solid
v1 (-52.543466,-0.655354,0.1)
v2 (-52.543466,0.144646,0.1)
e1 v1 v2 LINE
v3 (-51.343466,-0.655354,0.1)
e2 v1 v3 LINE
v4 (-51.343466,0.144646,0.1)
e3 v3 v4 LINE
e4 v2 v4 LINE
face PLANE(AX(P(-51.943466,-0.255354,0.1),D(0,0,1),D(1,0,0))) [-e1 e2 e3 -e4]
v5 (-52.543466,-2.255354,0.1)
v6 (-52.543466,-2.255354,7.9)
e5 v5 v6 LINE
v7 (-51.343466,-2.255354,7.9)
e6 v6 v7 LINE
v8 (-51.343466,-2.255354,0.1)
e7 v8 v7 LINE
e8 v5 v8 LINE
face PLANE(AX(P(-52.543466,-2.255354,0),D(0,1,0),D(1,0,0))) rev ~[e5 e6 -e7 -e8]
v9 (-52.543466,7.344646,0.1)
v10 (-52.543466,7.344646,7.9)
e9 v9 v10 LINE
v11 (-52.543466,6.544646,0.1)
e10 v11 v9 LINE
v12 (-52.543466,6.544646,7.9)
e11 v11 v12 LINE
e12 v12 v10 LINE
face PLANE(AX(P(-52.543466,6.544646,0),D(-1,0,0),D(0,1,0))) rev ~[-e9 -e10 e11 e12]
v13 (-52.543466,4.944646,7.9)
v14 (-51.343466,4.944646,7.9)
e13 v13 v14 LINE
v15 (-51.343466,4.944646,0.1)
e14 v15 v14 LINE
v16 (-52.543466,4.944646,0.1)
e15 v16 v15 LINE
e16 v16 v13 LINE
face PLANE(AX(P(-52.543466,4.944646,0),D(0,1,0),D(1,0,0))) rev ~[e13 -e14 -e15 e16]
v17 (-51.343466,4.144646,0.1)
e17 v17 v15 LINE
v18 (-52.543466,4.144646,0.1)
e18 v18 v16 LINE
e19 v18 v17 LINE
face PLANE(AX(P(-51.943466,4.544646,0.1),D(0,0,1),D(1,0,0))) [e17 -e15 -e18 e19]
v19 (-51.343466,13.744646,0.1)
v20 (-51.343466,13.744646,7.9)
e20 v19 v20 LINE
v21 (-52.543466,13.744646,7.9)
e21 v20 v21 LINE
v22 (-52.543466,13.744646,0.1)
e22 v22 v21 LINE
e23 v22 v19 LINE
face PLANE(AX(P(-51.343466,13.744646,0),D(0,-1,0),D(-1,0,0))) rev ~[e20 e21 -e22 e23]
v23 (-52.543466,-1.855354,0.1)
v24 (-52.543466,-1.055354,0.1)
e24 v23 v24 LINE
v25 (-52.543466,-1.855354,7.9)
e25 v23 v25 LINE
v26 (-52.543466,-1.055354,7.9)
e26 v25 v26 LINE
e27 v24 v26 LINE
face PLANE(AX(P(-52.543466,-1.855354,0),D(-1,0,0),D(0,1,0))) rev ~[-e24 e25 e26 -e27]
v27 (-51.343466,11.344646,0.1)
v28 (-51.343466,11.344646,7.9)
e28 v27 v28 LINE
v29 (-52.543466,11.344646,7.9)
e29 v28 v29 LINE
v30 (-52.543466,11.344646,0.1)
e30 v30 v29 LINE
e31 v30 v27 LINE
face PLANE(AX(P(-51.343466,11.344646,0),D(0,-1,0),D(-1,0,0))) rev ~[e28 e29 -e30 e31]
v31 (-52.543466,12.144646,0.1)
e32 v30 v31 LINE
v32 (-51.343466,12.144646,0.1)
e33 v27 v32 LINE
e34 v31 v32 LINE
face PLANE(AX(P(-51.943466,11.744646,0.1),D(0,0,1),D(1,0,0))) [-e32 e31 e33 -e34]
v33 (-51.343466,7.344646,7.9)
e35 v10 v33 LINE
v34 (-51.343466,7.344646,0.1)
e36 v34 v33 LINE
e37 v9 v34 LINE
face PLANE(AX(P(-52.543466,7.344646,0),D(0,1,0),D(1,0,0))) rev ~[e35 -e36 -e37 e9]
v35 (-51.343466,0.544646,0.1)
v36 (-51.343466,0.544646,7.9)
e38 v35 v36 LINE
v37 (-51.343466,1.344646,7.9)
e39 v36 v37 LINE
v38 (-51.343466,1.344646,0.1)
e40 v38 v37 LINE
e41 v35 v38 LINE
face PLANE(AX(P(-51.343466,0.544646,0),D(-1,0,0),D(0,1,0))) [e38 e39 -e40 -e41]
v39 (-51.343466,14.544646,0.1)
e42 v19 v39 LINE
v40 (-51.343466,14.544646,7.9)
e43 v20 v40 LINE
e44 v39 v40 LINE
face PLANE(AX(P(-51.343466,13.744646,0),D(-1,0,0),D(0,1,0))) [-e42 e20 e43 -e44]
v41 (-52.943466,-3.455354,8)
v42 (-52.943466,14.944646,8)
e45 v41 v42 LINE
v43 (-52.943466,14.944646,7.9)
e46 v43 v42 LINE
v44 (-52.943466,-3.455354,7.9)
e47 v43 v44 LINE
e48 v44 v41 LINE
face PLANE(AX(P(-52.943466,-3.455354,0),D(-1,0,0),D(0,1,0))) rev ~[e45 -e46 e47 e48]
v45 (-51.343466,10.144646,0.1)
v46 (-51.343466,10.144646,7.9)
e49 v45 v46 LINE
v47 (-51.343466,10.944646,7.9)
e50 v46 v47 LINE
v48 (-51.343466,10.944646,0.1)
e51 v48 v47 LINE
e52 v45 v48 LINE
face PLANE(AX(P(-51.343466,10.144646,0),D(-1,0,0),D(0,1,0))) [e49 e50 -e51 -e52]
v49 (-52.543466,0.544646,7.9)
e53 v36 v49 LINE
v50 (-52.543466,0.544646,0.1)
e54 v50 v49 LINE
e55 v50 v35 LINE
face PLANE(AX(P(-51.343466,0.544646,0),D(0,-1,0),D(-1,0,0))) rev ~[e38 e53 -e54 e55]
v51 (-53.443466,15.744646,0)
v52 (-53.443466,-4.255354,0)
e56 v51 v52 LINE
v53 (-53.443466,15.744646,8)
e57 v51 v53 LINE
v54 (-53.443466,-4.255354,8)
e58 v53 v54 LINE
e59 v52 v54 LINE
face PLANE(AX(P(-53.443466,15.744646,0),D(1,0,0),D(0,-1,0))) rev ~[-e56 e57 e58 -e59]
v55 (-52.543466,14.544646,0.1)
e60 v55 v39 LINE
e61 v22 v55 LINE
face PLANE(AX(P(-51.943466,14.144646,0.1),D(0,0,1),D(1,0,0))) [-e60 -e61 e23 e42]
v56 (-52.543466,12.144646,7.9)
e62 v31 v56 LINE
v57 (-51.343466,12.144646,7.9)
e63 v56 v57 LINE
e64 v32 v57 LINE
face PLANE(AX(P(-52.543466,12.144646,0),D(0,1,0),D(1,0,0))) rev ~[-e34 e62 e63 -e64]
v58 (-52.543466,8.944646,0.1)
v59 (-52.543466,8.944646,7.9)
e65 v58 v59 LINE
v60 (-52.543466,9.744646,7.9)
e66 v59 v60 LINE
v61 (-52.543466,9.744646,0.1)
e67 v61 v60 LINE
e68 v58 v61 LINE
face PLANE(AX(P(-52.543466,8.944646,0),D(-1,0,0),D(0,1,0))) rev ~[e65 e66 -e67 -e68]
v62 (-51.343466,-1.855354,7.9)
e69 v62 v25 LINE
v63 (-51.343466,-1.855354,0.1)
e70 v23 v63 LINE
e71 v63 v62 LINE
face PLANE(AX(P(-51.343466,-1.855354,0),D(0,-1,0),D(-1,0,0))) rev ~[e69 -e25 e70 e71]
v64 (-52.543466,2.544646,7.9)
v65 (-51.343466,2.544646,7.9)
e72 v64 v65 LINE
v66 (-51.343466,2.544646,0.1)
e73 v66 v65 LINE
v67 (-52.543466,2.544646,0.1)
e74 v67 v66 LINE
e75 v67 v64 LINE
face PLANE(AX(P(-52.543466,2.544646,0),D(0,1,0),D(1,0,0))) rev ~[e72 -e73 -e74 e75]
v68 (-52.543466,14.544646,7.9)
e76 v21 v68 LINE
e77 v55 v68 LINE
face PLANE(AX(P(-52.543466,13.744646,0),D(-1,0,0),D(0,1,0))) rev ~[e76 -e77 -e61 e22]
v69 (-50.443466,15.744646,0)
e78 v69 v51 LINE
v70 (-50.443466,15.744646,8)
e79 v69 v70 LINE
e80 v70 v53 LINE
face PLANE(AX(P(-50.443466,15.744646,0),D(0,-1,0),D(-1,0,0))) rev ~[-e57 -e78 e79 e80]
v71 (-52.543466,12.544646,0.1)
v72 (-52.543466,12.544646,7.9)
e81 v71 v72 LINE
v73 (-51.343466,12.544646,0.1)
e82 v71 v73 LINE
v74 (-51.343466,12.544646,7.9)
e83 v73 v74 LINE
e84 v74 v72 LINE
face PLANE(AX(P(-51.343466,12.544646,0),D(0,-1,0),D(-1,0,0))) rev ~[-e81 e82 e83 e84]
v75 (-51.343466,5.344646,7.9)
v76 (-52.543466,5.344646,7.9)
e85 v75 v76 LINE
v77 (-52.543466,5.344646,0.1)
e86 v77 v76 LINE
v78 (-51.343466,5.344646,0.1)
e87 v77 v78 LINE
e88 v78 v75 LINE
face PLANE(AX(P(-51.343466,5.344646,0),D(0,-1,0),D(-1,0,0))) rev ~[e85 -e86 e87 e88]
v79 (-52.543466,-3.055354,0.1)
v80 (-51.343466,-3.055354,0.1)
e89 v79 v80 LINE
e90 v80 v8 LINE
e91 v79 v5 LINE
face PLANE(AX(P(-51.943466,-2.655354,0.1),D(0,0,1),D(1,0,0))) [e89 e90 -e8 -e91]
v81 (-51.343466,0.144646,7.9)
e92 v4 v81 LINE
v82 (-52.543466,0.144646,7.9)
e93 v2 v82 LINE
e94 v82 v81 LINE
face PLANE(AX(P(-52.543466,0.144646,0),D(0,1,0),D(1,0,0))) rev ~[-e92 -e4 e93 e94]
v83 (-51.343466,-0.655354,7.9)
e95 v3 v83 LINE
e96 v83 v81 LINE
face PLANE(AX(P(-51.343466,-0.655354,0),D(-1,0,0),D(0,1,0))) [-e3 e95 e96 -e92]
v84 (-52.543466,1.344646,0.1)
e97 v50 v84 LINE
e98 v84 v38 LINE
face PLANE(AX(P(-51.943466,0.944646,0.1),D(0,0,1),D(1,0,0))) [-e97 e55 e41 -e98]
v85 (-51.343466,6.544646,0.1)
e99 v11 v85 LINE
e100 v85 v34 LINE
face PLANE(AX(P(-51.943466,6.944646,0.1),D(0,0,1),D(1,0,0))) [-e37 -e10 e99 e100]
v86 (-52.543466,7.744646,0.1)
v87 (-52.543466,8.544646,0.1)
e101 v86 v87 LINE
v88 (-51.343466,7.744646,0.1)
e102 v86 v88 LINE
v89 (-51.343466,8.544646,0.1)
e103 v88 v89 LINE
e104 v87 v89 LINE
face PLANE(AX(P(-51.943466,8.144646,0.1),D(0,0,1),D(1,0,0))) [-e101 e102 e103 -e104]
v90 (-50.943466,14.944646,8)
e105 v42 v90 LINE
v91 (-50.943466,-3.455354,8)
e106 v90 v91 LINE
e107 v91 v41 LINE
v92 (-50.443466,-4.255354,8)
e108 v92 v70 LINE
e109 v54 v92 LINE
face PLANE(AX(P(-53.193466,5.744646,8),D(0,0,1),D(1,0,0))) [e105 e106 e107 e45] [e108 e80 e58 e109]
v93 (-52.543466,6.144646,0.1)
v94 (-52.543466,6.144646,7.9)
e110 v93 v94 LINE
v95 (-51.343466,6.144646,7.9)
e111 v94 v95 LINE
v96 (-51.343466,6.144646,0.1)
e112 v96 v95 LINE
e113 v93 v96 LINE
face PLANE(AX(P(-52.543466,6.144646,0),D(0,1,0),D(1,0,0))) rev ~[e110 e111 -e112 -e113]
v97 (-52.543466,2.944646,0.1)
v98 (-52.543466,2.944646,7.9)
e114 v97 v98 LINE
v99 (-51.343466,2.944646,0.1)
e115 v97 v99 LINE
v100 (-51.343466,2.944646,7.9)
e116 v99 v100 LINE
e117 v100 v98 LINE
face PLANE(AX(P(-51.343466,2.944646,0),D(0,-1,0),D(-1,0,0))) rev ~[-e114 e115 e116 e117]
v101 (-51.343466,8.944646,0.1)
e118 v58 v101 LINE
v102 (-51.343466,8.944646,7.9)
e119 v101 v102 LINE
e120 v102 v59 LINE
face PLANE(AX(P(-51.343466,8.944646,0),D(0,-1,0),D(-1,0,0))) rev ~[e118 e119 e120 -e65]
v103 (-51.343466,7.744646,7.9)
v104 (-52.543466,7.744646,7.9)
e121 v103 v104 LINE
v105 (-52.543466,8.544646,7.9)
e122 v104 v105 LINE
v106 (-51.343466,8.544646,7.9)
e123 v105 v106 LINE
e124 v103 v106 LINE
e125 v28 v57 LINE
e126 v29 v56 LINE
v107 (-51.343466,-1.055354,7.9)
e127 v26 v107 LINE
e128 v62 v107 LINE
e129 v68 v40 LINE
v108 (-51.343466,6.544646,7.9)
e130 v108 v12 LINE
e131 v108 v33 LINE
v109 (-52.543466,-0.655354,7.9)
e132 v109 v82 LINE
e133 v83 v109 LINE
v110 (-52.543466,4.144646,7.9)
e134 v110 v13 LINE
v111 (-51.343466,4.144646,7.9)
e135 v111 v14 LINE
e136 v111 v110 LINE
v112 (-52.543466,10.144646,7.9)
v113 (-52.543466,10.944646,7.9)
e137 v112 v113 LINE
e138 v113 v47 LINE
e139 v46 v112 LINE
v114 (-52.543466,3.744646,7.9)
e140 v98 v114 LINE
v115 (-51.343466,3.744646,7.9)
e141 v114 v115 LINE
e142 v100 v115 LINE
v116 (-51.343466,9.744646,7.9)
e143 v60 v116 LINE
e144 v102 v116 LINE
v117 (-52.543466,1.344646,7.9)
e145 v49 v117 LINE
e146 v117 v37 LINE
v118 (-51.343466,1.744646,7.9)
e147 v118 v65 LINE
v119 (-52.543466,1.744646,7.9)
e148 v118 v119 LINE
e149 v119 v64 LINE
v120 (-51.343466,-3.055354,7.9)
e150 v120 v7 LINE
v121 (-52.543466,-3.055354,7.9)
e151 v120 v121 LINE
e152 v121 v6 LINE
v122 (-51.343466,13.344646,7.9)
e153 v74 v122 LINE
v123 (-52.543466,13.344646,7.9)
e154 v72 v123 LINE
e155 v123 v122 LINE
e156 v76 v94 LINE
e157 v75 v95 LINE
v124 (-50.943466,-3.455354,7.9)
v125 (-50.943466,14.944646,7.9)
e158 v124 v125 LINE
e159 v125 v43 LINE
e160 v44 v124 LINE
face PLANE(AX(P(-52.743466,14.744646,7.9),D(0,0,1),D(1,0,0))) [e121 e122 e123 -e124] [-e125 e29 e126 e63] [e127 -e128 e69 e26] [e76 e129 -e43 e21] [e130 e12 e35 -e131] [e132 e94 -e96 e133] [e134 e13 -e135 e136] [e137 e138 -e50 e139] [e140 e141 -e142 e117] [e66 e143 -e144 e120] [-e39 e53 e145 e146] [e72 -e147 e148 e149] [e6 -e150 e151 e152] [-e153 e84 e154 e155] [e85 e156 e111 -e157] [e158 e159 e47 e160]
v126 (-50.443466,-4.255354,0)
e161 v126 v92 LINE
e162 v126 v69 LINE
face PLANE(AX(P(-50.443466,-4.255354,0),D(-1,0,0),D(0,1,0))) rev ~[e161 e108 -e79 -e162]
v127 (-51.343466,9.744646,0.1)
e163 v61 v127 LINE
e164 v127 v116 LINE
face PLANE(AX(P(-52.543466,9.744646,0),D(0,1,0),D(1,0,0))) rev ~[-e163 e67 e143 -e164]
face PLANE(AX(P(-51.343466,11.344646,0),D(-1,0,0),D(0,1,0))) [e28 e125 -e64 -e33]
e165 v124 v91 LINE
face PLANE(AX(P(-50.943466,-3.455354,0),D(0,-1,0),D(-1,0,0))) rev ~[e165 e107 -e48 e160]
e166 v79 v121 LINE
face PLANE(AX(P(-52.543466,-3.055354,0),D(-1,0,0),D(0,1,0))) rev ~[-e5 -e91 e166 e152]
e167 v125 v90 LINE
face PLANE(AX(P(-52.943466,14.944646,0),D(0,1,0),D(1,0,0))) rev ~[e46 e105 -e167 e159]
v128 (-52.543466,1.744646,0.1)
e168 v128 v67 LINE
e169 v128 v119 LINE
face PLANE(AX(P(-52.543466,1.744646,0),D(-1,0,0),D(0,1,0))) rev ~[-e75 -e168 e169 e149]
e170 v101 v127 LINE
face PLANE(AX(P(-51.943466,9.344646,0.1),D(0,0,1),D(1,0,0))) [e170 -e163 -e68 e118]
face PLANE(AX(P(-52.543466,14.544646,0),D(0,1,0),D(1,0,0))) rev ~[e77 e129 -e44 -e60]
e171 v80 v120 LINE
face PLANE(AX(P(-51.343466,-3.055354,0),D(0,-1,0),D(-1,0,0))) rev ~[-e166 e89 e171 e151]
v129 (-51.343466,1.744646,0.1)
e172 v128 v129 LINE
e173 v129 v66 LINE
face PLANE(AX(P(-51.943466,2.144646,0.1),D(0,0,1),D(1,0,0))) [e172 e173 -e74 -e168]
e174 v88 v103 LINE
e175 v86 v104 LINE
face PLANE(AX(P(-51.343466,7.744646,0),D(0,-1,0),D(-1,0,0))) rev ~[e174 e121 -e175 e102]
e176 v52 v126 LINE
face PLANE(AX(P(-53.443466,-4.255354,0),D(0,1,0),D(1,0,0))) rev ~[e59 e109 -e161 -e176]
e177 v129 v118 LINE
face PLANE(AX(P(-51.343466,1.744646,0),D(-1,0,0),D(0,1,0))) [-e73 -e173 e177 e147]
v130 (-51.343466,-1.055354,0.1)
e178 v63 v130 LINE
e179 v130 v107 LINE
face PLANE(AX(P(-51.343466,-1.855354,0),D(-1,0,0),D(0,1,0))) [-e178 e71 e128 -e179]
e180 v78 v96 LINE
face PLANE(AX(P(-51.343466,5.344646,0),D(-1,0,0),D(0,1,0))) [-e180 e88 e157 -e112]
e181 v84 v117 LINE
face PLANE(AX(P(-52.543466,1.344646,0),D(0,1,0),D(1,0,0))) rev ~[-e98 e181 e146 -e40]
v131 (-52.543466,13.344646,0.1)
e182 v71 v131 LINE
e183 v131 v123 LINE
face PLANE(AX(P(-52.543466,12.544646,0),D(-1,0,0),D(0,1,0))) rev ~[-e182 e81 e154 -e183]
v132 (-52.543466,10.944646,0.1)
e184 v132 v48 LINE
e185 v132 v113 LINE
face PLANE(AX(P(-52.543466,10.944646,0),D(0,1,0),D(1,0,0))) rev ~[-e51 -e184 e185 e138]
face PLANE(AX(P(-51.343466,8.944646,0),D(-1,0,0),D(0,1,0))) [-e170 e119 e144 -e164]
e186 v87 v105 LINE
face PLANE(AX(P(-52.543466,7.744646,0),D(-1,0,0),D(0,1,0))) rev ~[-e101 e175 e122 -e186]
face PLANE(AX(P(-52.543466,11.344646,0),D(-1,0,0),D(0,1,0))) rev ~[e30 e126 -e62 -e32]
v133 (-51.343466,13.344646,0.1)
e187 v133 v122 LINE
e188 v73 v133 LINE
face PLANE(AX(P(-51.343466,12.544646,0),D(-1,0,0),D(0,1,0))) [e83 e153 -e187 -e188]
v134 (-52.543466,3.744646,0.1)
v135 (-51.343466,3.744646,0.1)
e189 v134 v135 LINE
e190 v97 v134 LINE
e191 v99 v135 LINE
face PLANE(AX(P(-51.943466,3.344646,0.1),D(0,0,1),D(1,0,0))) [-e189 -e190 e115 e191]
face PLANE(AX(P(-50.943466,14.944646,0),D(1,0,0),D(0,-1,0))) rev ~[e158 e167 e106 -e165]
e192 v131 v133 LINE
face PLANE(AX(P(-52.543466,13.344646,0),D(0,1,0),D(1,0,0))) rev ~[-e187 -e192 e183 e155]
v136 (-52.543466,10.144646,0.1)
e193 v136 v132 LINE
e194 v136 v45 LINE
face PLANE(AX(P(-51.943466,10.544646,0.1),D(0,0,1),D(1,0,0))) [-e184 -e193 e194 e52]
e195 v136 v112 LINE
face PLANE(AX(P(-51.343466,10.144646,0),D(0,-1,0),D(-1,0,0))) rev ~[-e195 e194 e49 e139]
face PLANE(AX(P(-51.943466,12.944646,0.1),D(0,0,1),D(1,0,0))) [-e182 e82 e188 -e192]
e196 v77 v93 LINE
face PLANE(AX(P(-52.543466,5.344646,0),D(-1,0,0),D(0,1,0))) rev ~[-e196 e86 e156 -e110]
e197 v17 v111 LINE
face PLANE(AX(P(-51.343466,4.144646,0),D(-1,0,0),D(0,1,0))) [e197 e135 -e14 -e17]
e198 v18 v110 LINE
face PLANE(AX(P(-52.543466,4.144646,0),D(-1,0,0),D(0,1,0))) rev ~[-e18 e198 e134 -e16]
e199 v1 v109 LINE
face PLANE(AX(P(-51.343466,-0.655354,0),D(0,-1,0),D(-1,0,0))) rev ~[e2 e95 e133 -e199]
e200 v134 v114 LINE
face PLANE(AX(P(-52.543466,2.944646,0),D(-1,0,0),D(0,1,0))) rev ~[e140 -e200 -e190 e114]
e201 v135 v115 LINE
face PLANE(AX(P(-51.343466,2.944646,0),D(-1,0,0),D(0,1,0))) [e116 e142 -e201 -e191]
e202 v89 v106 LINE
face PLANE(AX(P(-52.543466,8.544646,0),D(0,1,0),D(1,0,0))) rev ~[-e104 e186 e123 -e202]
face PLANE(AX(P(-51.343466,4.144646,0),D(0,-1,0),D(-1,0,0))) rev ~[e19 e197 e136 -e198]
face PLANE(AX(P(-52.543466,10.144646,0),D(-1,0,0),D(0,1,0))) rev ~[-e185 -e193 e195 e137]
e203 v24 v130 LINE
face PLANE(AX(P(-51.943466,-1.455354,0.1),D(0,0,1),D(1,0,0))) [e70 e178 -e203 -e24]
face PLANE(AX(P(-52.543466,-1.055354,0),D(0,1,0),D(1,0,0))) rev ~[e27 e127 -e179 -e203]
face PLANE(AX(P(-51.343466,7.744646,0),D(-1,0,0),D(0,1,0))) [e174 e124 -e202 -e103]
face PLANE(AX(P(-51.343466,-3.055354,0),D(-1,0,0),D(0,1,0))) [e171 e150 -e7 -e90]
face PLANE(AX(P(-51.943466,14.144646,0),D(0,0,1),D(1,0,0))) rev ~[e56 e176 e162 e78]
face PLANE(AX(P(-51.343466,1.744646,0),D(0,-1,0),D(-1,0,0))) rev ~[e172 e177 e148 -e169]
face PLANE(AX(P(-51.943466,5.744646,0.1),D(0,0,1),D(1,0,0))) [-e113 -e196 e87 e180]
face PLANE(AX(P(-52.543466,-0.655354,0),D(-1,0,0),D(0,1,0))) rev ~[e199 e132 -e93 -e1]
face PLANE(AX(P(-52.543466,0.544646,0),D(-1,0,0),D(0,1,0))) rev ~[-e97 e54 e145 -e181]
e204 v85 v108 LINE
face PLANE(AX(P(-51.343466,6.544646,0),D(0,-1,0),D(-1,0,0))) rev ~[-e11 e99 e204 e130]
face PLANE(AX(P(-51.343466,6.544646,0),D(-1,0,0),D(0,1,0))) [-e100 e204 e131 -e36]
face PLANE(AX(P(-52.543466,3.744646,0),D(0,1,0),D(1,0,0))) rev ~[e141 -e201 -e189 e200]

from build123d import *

# Parameters (mm, degrees)
F0_W     = 0.4
F0_H     = 0.8
F0_W_2   = 1.2
F1_DEPTH = 8
F0_H_2   = 0.4
F2_DEPTH = 7.9
F3_DEPTH = 0.1


with BuildPart() as f1:
    # F0 (on Top) → F1 (new body)
    with BuildSketch(Plane.XY):
        Polygon((-52.9434660673, 15.7446456737), (-53.4434660673, 15.7446456737), (-53.4434660673, -4.2553543263), (-52.9434660673, -4.2553543263), (-52.9434660673, -3.4553543263), (-52.9434660673, -3.0553543263), (-52.9434660673, -2.2553543263), (-52.9434660673, -1.8553543263), (-52.9434660673, -1.0553543263), (-52.9434660673, -0.6553543263), (-52.9434660673, 0.1446456737), (-52.9434660673, 0.5446456737), (-52.9434660673, 1.3446456737), (-52.9434660673, 1.7446456737), (-52.9434660673, 2.5446456737), (-52.9434660673, 2.9446456737), (-52.9434660673, 3.7446456737), (-52.9434660673, 4.1446456737), (-52.9434660673, 4.9446456737), (-52.9434660673, 5.3446456737), (-52.9434660673, 6.1446456737), (-52.9434660673, 6.5446456737), (-52.9434660673, 7.3446456737), (-52.9434660673, 7.7446456737), (-52.9434660673, 8.5446456737), (-52.9434660673, 8.9446456737), (-52.9434660673, 9.7446456737), (-52.9434660673, 10.1446456737), (-52.9434660673, 10.9446456737), (-52.9434660673, 11.3446456737), (-52.9434660673, 12.1446456737), (-52.9434660673, 12.5446456737), (-52.9434660673, 13.3446456737), (-52.9434660673, 13.7446456737), (-52.9434660673, 14.5446456737), (-52.9434660673, 14.9446456737), align=None)
        with Locations((-52.7434660673, 15.3446456737)):
            Rectangle(F0_W, F0_H)
        with Locations((-51.9434660673, 15.3446456737)):
            Rectangle(F0_W_2, F0_H)
        with Locations((-52.7434660673, -3.8553543263)):
            Rectangle(F0_W, F0_H)
        with Locations((-51.1434660673, 15.3446456737)):
            Rectangle(F0_W, F0_H)
        with Locations((-51.9434660673, -3.8553543263)):
            Rectangle(F0_W_2, F0_H)
        Polygon((-50.4434660673, 15.7446456737), (-50.9434660673, 15.7446456737), (-50.9434660673, 14.9446456737), (-50.9434660673, 14.5446456737), (-50.9434660673, 13.7446456737), (-50.9434660673, 13.3446456737), (-50.9434660673, 12.5446456737), (-50.9434660673, 12.1446456737), (-50.9434660673, 11.3446456737), (-50.9434660673, 10.9446456737), (-50.9434660673, 10.1446456737), (-50.9434660673, 9.7446456737), (-50.9434660673, 8.9446456737), (-50.9434660673, 8.5446456737), (-50.9434660673, 7.7446456737), (-50.9434660673, 7.3446456737), (-50.9434660673, 6.5446456737), (-50.9434660673, 6.1446456737), (-50.9434660673, 5.3446456737), (-50.9434660673, 4.9446456737), (-50.9434660673, 4.1446456737), (-50.9434660673, 3.7446456737), (-50.9434660673, 2.9446456737), (-50.9434660673, 2.5446456737), (-50.9434660673, 1.7446456737), (-50.9434660673, 1.3446456737), (-50.9434660673, 0.5446456737), (-50.9434660673, 0.1446456737), (-50.9434660673, -0.6553543263), (-50.9434660673, -1.0553543263), (-50.9434660673, -1.8553543263), (-50.9434660673, -2.2553543263), (-50.9434660673, -3.0553543263), (-50.9434660673, -3.4553543263), (-50.9434660673, -4.2553543263), (-50.4434660673, -4.2553543263), align=None)
        with Locations((-51.1434660673, -3.8553543263)):
            Rectangle(F0_W, F0_H)
    extrude(amount=F1_DEPTH)

    # F0 (on Top) → F2 (join)
    with BuildSketch(Plane.XY):
        with Locations((-52.7434660673, 14.7446456737)):
            Rectangle(F0_W, F0_H_2)
        with Locations((-52.7434660673, 14.1446456737)):
            Rectangle(F0_W, F0_H)
        with Locations((-52.7434660673, 13.5446456737)):
            Rectangle(F0_W, F0_H_2)
        with Locations((-52.7434660673, 12.9446456737)):
            Rectangle(F0_W, F0_H)
        with Locations((-52.7434660673, 12.3446456737)):
            Rectangle(F0_W, F0_H_2)
        with Locations((-52.7434660673, 11.7446456737)):
            Rectangle(F0_W, F0_H)
        with Locations((-52.7434660673, 11.1446456737)):
            Rectangle(F0_W, F0_H_2)
        with Locations((-52.7434660673, 10.5446456737)):
            Rectangle(F0_W, F0_H)
        with Locations((-52.7434660673, 9.9446456737)):
            Rectangle(F0_W, F0_H_2)
        with Locations((-51.9434660673, 9.9446456737)):
            Rectangle(F0_W_2, F0_H_2)
        with Locations((-51.9434660673, 11.1446456737)):
            Rectangle(F0_W_2, F0_H_2)
        with Locations((-51.9434660673, 12.3446456737)):
            Rectangle(F0_W_2, F0_H_2)
        with Locations((-51.9434660673, 13.5446456737)):
            Rectangle(F0_W_2, F0_H_2)
        with Locations((-51.9434660673, 14.7446456737)):
            Rectangle(F0_W_2, F0_H_2)
        with Locations((-51.9434660673, -3.2553543263)):
            Rectangle(F0_W_2, F0_H_2)
        with Locations((-51.9434660673, -2.0553543263)):
            Rectangle(F0_W_2, F0_H_2)
        with Locations((-51.9434660673, -0.8553543263)):
            Rectangle(F0_W_2, F0_H_2)
        with Locations((-51.9434660673, 0.3446456737)):
            Rectangle(F0_W_2, F0_H_2)
        with Locations((-51.9434660673, 1.5446456737)):
            Rectangle(F0_W_2, F0_H_2)
        with Locations((-51.9434660673, 2.7446456737)):
            Rectangle(F0_W_2, F0_H_2)
        with Locations((-51.9434660673, 3.9446456737)):
            Rectangle(F0_W_2, F0_H_2)
        with Locations((-51.9434660673, 5.1446456737)):
            Rectangle(F0_W_2, F0_H_2)
        with Locations((-51.9434660673, 6.3446456737)):
            Rectangle(F0_W_2, F0_H_2)
        with Locations((-51.9434660673, 7.5446456737)):
            Rectangle(F0_W_2, F0_H_2)
        with Locations((-51.9434660673, 8.7446456737)):
            Rectangle(F0_W_2, F0_H_2)
        with Locations((-51.1434660673, 14.7446456737)):
            Rectangle(F0_W, F0_H_2)
        with Locations((-51.1434660673, 13.5446456737)):
            Rectangle(F0_W, F0_H_2)
        with Locations((-51.1434660673, 12.3446456737)):
            Rectangle(F0_W, F0_H_2)
        with Locations((-51.1434660673, 11.1446456737)):
            Rectangle(F0_W, F0_H_2)
        with Locations((-51.1434660673, 9.9446456737)):
            Rectangle(F0_W, F0_H_2)
        with Locations((-51.1434660673, 8.7446456737)):
            Rectangle(F0_W, F0_H_2)
        with Locations((-51.1434660673, 7.5446456737)):
            Rectangle(F0_W, F0_H_2)
        with Locations((-51.1434660673, 6.3446456737)):
            Rectangle(F0_W, F0_H_2)
        with Locations((-51.1434660673, 5.1446456737)):
            Rectangle(F0_W, F0_H_2)
        with Locations((-51.1434660673, 3.9446456737)):
            Rectangle(F0_W, F0_H_2)
        with Locations((-51.1434660673, 2.7446456737)):
            Rectangle(F0_W, F0_H_2)
        with Locations((-51.1434660673, 1.5446456737)):
            Rectangle(F0_W, F0_H_2)
        with Locations((-51.1434660673, 0.3446456737)):
            Rectangle(F0_W, F0_H_2)
        with Locations((-51.1434660673, -0.8553543263)):
            Rectangle(F0_W, F0_H_2)
        with Locations((-51.1434660673, -2.0553543263)):
            Rectangle(F0_W, F0_H_2)
        with Locations((-51.1434660673, -3.2553543263)):
            Rectangle(F0_W, F0_H_2)
        with Locations((-52.7434660673, -3.2553543263)):
            Rectangle(F0_W, F0_H_2)
        with Locations((-52.7434660673, -2.0553543263)):
            Rectangle(F0_W, F0_H_2)
        with Locations((-52.7434660673, -0.8553543263)):
            Rectangle(F0_W, F0_H_2)
        with Locations((-52.7434660673, 0.3446456737)):
            Rectangle(F0_W, F0_H_2)
        with Locations((-52.7434660673, 1.5446456737)):
            Rectangle(F0_W, F0_H_2)
        with Locations((-52.7434660673, 2.7446456737)):
            Rectangle(F0_W, F0_H_2)
        with Locations((-52.7434660673, 3.9446456737)):
            Rectangle(F0_W, F0_H_2)
        with Locations((-52.7434660673, 5.1446456737)):
            Rectangle(F0_W, F0_H_2)
        with Locations((-52.7434660673, 6.3446456737)):
            Rectangle(F0_W, F0_H_2)
        with Locations((-52.7434660673, 7.5446456737)):
            Rectangle(F0_W, F0_H_2)
        with Locations((-52.7434660673, 8.7446456737)):
            Rectangle(F0_W, F0_H_2)
        with Locations((-51.1434660673, 14.1446456737)):
            Rectangle(F0_W, F0_H)
        with Locations((-51.1434660673, 12.9446456737)):
            Rectangle(F0_W, F0_H)
        with Locations((-51.1434660673, 11.7446456737)):
            Rectangle(F0_W, F0_H)
        with Locations((-51.1434660673, 10.5446456737)):
            Rectangle(F0_W, F0_H)
        with Locations((-51.1434660673, 9.3446456737)):
            Rectangle(F0_W, F0_H)
        with Locations((-52.7434660673, 9.3446456737)):
            Rectangle(F0_W, F0_H)
        with Locations((-52.7434660673, 8.1446456737)):
            Rectangle(F0_W, F0_H)
        with Locations((-51.1434660673, 8.1446456737)):
            Rectangle(F0_W, F0_H)
        with Locations((-51.1434660673, 6.9446456737)):
            Rectangle(F0_W, F0_H)
        with Locations((-52.7434660673, 6.9446456737)):
            Rectangle(F0_W, F0_H)
        with Locations((-52.7434660673, 5.7446456737)):
            Rectangle(F0_W, F0_H)
        with Locations((-51.1434660673, 5.7446456737)):
            Rectangle(F0_W, F0_H)
        with Locations((-51.1434660673, 4.5446456737)):
            Rectangle(F0_W, F0_H)
        with Locations((-52.7434660673, 4.5446456737)):
            Rectangle(F0_W, F0_H)
        with Locations((-52.7434660673, 3.3446456737)):
            Rectangle(F0_W, F0_H)
        with Locations((-51.1434660673, 3.3446456737)):
            Rectangle(F0_W, F0_H)
        with Locations((-51.1434660673, 2.1446456737)):
            Rectangle(F0_W, F0_H)
        with Locations((-52.7434660673, 2.1446456737)):
            Rectangle(F0_W, F0_H)
        with Locations((-52.7434660673, 0.9446456737)):
            Rectangle(F0_W, F0_H)
        with Locations((-51.1434660673, 0.9446456737)):
            Rectangle(F0_W, F0_H)
        with Locations((-51.1434660673, -0.2553543263)):
            Rectangle(F0_W, F0_H)
        with Locations((-52.7434660673, -0.2553543263)):
            Rectangle(F0_W, F0_H)
        with Locations((-52.7434660673, -1.4553543263)):
            Rectangle(F0_W, F0_H)
        with Locations((-51.1434660673, -1.4553543263)):
            Rectangle(F0_W, F0_H)
        with Locations((-51.1434660673, -2.6553543263)):
            Rectangle(F0_W, F0_H)
        with Locations((-52.7434660673, -2.6553543263)):
            Rectangle(F0_W, F0_H)
    extrude(amount=F2_DEPTH)

    # F0 (on Top) → F3 (join)
    with BuildSketch(Plane.XY):
        with Locations((-51.9434660673, 14.1446456737)):
            Rectangle(F0_W_2, F0_H)
        with Locations((-51.9434660673, 12.9446456737)):
            Rectangle(F0_W_2, F0_H)
        with Locations((-51.9434660673, 11.7446456737)):
            Rectangle(F0_W_2, F0_H)
        with Locations((-51.9434660673, 10.5446456737)):
            Rectangle(F0_W_2, F0_H)
        with Locations((-51.9434660673, 9.3446456737)):
            Rectangle(F0_W_2, F0_H)
        with Locations((-51.9434660673, 8.1446456737)):
            Rectangle(F0_W_2, F0_H)
        with Locations((-51.9434660673, 6.9446456737)):
            Rectangle(F0_W_2, F0_H)
        with Locations((-51.9434660673, 5.7446456737)):
            Rectangle(F0_W_2, F0_H)
        with Locations((-51.9434660673, 4.5446456737)):
            Rectangle(F0_W_2, F0_H)
        with Locations((-51.9434660673, 3.3446456737)):
            Rectangle(F0_W_2, F0_H)
        with Locations((-51.9434660673, 2.1446456737)):
            Rectangle(F0_W_2, F0_H)
        with Locations((-51.9434660673, 0.9446456737)):
            Rectangle(F0_W_2, F0_H)
        with Locations((-51.9434660673, -0.2553543263)):
            Rectangle(F0_W_2, F0_H)
        with Locations((-51.9434660673, -1.4553543263)):
            Rectangle(F0_W_2, F0_H)
        with Locations((-51.9434660673, -2.6553543263)):
            Rectangle(F0_W_2, F0_H)
    extrude(amount=F3_DEPTH)


solid = f1.part
